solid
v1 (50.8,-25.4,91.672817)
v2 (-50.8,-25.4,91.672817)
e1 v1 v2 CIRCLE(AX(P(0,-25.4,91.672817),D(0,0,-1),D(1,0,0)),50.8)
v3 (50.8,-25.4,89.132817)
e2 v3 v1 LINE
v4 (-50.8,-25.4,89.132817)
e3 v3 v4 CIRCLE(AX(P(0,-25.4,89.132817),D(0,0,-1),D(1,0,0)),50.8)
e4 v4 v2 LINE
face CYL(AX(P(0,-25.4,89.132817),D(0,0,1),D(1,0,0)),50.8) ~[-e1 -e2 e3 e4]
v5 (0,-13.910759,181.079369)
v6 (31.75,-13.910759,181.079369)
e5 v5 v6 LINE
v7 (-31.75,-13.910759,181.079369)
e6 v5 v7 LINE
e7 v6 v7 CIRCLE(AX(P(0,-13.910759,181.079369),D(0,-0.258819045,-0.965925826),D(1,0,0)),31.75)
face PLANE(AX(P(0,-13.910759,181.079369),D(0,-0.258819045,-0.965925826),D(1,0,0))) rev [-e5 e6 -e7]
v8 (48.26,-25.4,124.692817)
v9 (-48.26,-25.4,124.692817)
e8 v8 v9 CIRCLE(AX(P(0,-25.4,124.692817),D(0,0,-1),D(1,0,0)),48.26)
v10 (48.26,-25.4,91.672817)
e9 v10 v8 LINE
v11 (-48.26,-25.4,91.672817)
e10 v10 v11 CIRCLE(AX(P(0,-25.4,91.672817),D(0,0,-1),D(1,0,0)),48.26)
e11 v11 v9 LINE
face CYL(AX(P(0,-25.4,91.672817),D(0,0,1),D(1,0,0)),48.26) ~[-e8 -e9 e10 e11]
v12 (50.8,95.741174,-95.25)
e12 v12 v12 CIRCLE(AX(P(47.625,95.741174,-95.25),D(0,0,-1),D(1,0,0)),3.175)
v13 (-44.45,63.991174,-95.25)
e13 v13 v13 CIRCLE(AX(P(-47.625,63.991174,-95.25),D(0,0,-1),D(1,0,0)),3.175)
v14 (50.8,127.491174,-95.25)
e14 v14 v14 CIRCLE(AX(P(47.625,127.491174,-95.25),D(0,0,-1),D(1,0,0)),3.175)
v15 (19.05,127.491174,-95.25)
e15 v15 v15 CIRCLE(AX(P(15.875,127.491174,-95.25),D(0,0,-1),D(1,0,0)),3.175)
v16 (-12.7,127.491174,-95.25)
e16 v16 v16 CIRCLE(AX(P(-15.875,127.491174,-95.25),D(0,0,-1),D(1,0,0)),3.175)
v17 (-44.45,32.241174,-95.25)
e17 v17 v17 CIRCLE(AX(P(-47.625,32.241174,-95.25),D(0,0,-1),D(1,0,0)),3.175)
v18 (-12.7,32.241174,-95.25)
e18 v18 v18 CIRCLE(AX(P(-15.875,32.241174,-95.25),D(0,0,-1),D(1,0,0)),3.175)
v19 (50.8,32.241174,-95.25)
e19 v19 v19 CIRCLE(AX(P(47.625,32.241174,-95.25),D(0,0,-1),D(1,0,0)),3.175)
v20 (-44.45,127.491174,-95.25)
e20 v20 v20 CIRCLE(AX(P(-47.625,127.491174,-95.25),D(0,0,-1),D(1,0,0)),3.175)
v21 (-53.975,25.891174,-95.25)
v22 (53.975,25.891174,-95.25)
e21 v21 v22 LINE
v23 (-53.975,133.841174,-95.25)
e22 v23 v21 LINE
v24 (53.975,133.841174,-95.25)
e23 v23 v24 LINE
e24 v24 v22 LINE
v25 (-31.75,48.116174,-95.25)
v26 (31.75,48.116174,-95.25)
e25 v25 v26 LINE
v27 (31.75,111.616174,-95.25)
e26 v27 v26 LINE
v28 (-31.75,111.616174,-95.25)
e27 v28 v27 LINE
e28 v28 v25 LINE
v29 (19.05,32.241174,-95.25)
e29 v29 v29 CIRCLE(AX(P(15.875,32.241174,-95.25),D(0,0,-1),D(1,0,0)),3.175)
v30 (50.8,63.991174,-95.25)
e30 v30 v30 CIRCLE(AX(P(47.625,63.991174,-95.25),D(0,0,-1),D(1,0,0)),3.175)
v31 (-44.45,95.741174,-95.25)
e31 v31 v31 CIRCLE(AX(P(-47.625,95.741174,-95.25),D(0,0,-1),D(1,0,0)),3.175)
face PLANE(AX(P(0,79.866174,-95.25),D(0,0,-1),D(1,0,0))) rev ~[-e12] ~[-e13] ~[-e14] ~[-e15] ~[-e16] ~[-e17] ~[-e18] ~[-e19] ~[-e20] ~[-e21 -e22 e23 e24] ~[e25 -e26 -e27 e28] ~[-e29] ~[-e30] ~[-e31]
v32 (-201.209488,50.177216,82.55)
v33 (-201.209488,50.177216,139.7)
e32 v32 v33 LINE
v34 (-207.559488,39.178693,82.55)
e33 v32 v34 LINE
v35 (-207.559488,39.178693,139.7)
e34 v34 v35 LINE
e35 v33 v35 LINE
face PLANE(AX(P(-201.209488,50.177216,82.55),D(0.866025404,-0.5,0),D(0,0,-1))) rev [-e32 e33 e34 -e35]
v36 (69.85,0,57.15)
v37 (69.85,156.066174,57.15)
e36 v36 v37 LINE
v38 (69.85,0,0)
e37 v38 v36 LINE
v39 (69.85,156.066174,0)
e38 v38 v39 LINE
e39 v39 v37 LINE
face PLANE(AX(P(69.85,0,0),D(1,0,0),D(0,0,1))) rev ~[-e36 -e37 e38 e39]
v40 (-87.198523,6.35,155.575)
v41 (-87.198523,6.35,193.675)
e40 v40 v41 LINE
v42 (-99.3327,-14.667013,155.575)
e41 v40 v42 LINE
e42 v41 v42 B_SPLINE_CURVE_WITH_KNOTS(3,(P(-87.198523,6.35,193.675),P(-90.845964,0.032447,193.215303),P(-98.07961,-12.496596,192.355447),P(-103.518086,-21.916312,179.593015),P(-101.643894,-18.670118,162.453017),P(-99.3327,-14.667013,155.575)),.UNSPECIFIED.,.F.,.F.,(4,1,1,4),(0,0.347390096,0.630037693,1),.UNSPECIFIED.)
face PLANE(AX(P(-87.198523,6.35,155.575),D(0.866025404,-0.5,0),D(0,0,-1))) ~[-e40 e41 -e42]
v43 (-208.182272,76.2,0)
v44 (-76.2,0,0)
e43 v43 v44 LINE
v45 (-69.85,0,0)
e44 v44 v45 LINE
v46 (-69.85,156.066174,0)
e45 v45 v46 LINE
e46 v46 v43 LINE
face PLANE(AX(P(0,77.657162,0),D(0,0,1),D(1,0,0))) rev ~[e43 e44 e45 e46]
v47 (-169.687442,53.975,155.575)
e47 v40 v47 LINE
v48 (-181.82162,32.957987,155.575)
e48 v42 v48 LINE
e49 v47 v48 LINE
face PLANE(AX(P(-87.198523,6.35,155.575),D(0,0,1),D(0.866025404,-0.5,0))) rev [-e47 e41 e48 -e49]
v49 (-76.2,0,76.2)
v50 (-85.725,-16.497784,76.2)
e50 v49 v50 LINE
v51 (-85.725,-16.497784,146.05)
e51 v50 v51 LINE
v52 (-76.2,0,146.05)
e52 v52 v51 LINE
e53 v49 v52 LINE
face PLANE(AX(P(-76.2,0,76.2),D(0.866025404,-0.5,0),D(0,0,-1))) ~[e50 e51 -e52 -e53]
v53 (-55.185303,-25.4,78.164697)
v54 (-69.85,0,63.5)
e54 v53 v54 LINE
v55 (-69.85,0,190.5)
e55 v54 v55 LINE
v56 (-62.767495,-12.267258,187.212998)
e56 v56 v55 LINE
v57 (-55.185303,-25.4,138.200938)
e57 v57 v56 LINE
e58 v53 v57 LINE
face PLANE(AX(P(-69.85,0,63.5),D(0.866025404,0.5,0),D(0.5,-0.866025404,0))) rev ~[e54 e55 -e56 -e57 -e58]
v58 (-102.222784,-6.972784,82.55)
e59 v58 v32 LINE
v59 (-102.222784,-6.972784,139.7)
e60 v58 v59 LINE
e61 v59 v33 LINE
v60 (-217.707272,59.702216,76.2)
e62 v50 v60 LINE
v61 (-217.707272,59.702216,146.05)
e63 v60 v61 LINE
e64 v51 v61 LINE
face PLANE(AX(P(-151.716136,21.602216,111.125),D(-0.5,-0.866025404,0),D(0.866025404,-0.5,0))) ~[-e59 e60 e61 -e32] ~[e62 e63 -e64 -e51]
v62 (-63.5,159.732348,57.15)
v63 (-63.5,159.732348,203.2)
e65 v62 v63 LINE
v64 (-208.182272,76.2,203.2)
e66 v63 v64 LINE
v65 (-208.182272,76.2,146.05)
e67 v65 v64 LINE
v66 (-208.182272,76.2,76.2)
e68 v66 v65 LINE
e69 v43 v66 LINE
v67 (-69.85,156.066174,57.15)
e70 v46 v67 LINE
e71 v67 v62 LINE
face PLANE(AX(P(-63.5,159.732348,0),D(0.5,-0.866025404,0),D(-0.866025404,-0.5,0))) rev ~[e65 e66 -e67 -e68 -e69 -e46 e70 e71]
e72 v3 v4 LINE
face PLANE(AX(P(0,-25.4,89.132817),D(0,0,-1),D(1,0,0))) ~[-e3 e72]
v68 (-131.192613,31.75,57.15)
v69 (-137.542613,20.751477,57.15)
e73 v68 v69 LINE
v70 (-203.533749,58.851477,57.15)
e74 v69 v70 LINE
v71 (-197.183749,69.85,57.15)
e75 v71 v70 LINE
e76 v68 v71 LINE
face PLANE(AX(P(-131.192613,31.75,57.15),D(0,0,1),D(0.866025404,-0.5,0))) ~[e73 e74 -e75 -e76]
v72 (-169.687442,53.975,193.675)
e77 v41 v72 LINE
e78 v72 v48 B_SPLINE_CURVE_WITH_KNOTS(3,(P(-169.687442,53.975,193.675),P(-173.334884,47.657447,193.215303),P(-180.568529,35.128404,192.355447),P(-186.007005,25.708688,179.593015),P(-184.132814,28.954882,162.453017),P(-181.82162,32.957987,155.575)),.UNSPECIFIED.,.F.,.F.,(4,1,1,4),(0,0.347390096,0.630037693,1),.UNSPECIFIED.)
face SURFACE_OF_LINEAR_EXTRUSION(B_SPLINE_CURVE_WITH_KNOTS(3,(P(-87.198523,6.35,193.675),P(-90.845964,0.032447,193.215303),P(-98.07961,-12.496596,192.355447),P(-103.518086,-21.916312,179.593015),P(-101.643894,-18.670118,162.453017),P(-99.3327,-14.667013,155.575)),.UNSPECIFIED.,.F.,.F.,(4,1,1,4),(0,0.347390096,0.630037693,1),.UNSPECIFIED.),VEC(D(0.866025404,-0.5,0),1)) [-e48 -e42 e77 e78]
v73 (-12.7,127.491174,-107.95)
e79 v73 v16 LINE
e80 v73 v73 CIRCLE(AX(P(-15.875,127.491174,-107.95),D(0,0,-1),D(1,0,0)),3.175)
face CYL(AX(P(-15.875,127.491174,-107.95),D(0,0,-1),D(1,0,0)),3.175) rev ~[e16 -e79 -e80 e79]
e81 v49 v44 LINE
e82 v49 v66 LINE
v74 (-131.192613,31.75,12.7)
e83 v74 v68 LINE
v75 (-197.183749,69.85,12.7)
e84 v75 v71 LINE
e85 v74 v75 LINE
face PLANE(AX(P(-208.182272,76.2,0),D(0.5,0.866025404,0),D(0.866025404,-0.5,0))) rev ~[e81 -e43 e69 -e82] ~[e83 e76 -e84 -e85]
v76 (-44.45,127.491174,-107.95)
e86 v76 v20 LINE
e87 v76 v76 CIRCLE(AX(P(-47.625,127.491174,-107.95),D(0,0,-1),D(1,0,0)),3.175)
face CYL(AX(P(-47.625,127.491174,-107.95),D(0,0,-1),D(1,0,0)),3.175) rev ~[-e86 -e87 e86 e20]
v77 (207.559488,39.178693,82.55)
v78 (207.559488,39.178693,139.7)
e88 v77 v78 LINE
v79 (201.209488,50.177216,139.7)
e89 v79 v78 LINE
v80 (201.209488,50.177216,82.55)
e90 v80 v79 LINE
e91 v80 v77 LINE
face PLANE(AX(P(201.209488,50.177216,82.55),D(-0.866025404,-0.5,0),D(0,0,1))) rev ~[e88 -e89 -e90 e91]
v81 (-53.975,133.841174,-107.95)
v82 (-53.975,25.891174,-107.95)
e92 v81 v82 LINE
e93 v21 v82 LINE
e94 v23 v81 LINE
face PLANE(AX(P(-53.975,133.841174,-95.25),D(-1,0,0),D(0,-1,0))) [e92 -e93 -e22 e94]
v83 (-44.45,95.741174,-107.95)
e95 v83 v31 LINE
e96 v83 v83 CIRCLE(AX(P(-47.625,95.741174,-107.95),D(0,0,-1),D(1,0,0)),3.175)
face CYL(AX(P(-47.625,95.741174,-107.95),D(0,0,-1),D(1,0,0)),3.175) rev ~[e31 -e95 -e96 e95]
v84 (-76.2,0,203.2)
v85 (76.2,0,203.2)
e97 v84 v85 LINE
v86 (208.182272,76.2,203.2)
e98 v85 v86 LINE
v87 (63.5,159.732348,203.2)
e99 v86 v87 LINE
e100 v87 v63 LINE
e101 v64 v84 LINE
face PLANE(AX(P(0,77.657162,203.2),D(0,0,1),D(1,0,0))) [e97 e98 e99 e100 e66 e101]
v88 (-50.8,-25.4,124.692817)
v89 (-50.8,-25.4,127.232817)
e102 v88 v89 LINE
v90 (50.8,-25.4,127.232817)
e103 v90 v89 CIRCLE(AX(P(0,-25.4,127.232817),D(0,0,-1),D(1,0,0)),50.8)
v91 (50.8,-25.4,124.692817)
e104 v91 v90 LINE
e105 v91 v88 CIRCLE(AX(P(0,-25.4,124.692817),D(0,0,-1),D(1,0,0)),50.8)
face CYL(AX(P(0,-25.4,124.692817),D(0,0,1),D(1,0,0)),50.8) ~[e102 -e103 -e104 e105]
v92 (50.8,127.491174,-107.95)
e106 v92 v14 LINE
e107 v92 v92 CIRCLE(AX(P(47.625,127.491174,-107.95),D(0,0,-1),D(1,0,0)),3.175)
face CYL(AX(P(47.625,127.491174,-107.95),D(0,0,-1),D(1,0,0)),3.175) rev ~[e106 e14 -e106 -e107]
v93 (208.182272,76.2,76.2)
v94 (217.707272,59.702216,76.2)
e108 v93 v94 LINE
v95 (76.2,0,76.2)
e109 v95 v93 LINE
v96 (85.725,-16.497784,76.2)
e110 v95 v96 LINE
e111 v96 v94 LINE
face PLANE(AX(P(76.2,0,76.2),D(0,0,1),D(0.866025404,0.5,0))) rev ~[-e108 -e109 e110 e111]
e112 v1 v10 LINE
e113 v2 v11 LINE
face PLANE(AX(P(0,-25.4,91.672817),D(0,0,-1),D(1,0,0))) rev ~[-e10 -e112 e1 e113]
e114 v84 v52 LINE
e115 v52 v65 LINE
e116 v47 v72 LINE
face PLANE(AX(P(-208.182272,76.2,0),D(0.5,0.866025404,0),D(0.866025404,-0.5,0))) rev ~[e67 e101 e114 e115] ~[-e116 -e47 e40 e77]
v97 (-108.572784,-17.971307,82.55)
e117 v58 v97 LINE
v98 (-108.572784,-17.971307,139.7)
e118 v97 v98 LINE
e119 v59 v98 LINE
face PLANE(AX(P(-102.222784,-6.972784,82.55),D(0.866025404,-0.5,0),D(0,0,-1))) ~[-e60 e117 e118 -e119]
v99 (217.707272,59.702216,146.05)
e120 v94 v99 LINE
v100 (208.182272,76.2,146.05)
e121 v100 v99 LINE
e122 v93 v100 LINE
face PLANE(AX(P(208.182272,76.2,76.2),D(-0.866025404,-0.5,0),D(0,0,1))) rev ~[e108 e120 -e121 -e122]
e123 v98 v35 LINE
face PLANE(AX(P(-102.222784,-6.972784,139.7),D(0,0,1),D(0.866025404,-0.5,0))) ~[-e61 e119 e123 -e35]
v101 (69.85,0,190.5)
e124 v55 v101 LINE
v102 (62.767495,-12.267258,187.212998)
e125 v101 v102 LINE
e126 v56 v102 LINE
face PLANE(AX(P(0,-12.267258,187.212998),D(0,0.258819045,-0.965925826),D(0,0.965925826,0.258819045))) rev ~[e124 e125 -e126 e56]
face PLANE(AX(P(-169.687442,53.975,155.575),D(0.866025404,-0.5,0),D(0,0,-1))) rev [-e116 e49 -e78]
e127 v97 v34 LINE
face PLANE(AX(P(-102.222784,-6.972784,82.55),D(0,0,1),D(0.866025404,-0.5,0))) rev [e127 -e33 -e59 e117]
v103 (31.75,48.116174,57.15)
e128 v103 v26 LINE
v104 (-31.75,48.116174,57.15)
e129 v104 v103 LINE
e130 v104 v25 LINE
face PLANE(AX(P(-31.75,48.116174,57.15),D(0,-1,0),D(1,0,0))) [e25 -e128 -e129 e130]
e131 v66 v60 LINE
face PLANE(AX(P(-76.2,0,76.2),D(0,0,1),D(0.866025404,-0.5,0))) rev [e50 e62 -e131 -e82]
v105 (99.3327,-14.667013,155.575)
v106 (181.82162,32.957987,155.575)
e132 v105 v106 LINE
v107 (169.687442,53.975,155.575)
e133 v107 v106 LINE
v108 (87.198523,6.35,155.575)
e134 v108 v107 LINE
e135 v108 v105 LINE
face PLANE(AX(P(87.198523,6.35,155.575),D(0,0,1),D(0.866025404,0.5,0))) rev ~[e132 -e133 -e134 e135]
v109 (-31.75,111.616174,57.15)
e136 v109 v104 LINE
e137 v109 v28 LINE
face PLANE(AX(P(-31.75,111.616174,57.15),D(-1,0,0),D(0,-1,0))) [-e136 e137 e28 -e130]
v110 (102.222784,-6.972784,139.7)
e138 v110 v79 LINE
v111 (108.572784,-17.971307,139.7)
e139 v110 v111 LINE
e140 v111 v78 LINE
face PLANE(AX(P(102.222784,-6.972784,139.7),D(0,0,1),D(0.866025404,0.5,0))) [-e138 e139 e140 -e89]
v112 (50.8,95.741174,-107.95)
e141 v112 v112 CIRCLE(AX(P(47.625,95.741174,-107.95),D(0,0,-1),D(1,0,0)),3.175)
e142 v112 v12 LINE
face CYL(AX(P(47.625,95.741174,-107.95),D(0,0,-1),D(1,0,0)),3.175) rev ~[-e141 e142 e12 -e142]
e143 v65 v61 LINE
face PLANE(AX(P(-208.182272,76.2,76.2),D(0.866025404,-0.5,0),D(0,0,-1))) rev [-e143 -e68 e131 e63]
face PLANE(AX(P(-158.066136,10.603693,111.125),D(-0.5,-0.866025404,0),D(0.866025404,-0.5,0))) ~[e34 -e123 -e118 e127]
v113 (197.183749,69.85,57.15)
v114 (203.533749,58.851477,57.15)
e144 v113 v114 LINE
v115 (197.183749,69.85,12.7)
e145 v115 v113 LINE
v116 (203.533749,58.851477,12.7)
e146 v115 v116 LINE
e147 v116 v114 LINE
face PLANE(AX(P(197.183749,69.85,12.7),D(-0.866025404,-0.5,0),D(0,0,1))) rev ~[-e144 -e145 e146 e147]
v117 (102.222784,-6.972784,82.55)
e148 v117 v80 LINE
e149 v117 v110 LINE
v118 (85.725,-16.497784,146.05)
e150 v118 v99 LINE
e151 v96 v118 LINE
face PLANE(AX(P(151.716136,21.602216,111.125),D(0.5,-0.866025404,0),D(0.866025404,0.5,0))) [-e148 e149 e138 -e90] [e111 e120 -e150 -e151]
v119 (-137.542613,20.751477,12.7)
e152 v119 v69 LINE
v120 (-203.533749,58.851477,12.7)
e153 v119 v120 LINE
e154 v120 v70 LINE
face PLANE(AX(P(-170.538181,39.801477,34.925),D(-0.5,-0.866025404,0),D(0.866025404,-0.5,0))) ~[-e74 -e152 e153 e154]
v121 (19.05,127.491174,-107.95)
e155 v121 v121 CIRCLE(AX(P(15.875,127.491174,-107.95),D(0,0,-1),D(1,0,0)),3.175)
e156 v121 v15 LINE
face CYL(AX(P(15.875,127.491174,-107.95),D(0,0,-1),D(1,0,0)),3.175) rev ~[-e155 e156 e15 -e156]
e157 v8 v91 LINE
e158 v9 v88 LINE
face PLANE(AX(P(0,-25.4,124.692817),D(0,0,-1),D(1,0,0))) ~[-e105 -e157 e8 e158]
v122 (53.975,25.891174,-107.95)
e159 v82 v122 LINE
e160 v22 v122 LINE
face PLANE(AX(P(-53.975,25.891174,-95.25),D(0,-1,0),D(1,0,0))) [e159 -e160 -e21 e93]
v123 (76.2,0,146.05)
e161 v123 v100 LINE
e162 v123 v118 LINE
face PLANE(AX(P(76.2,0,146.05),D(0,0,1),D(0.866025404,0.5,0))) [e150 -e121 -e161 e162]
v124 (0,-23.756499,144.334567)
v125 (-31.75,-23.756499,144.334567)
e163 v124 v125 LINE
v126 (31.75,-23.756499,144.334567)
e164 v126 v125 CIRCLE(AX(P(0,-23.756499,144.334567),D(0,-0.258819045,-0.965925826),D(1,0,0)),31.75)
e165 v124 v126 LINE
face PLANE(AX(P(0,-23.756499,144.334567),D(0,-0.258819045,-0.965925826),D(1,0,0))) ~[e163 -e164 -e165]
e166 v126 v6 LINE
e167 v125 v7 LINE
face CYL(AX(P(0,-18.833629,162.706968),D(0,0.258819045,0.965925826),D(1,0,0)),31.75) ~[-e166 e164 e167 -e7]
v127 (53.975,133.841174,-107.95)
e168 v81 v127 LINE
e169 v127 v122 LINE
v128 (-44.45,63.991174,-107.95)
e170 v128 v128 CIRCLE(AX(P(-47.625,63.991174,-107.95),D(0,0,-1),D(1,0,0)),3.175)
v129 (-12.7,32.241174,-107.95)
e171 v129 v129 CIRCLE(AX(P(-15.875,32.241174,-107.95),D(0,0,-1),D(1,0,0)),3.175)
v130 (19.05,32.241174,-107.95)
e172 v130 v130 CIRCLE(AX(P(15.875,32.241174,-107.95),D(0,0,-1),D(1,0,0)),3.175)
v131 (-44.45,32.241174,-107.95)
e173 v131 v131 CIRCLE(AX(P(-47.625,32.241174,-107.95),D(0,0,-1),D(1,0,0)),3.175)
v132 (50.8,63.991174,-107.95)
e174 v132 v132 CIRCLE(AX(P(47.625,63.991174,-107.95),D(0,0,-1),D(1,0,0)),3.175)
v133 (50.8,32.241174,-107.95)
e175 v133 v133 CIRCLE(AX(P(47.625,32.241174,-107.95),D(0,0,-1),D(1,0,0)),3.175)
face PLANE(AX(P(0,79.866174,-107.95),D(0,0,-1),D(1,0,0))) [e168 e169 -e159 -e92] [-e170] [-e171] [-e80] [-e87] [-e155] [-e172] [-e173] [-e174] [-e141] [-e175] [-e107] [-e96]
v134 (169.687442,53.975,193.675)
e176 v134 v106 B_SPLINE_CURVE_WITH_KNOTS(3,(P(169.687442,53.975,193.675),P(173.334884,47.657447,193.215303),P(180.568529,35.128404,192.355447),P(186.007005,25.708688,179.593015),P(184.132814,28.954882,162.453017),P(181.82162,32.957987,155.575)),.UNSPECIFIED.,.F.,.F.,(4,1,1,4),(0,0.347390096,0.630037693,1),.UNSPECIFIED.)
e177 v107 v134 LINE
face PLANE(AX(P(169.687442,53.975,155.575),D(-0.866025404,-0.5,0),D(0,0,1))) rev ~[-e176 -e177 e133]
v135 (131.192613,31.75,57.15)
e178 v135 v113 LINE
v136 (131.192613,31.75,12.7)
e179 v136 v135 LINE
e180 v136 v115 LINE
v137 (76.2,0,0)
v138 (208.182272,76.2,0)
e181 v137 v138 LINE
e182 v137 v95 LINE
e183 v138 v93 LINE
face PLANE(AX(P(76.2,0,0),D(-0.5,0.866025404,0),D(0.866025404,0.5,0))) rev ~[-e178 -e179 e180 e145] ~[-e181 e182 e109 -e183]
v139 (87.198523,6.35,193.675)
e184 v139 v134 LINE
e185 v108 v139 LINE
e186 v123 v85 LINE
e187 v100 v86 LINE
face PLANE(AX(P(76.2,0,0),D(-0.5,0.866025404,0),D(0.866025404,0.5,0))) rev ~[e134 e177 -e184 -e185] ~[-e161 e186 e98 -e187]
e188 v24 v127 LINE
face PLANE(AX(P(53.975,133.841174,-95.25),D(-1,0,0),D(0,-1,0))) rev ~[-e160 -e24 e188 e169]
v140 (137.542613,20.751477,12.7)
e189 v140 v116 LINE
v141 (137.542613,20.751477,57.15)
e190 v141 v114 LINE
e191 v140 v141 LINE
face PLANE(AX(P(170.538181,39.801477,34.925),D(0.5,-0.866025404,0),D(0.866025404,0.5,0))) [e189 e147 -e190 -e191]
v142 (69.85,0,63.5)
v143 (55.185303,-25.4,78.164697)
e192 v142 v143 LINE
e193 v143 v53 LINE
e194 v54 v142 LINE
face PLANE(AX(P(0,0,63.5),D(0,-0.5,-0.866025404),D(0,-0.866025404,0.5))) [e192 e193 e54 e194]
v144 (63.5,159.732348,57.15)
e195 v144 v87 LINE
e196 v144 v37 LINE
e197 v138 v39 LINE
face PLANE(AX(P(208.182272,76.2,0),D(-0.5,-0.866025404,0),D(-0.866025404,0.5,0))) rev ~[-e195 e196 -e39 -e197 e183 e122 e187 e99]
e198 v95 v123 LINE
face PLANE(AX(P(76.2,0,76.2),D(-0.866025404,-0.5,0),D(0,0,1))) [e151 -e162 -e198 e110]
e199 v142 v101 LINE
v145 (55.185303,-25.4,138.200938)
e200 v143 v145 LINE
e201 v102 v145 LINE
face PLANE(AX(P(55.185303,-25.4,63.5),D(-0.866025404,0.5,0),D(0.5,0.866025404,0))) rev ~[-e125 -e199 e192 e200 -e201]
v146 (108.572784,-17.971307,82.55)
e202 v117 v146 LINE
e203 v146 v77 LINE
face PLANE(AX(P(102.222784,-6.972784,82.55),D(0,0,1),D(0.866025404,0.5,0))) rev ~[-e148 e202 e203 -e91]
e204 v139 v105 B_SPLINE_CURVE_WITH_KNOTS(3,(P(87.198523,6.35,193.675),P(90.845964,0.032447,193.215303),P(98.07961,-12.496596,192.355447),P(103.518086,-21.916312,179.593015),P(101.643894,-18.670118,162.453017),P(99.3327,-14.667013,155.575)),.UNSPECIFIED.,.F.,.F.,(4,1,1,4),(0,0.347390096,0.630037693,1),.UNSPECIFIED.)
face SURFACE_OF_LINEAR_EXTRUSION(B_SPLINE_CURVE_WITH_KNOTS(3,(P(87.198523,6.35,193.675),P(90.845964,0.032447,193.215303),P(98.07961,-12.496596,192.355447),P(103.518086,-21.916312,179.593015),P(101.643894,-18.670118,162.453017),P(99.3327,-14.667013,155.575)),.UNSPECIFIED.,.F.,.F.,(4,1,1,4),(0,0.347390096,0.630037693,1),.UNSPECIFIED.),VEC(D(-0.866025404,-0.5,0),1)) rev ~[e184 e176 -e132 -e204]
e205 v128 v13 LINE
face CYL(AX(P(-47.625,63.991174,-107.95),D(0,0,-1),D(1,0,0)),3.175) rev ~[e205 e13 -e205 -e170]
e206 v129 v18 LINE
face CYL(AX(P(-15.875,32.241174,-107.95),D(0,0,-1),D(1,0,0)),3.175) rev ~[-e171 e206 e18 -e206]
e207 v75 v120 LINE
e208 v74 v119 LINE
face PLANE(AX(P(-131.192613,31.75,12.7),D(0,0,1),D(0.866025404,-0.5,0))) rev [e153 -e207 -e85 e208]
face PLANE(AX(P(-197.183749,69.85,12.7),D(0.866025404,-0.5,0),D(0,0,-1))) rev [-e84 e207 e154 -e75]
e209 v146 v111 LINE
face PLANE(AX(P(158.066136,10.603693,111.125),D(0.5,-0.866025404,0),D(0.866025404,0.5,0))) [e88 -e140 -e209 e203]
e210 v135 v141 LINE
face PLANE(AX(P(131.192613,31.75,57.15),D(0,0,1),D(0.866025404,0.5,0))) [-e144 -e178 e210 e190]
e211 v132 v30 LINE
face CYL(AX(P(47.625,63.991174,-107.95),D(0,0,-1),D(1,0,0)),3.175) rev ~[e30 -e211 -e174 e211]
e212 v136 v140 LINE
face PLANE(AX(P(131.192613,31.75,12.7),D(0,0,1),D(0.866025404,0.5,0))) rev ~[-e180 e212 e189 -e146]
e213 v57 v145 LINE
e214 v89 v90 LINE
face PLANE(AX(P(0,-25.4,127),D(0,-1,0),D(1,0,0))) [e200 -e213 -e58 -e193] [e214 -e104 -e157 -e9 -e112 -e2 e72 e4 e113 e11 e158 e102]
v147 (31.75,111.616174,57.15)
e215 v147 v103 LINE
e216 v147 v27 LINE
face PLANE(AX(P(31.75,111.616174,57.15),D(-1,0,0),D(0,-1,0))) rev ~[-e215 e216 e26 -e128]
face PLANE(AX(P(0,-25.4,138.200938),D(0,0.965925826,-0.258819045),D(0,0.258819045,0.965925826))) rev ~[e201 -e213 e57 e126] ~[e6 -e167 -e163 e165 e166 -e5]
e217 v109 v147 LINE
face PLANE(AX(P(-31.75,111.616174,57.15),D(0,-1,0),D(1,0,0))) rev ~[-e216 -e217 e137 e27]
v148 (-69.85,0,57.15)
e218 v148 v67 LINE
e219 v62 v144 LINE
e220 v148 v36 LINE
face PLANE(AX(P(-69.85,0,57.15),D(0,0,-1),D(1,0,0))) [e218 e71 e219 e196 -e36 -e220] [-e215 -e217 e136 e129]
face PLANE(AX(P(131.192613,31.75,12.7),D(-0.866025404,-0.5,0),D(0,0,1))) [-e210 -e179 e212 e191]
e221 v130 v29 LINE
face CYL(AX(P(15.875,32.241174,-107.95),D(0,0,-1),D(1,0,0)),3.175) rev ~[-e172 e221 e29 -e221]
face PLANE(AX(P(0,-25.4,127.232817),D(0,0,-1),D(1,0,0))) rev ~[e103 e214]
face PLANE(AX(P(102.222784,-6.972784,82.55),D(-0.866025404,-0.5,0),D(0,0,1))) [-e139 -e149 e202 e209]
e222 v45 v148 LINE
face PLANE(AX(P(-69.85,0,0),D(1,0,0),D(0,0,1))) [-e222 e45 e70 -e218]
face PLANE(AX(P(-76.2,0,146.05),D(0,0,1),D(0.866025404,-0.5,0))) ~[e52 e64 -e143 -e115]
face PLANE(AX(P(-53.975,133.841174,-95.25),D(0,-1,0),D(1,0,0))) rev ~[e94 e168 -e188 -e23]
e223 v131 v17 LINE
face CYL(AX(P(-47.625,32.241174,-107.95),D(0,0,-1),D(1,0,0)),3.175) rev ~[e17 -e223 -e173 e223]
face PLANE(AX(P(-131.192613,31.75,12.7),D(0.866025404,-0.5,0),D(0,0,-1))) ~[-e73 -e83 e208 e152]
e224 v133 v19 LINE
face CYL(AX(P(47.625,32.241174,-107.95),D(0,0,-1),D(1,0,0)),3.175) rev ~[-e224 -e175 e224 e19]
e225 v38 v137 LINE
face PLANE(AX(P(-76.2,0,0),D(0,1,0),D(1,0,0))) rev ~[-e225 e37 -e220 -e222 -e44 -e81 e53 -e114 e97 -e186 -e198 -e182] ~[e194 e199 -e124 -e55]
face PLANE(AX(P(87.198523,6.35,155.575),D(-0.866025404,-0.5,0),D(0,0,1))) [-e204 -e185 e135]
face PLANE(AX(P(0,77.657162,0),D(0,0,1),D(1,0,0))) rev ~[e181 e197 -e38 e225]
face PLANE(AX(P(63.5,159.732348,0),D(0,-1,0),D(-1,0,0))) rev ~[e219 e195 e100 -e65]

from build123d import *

# Parameters (mm, degrees)
F1_DEPTH  = 203.2
F2_W      = 76.2
F2_H      = 44.45
F3_DEPTH  = 12.7
F4_W      = 152.4
F4_H      = 69.85
F5_DEPTH  = 19.05
F6_W      = 114.3
F6_H      = 57.15
F7_DEPTH  = 12.7
F8_W      = 95.25
F8_H      = 38.1
F9_DEPTH  = 31.75
F11_DEPTH = 95.25
F12_W     = 139.7
F12_H     = 127
F13_DEPTH = 25.4
F15_DEPTH = 127
F17_DEPTH = 76.2
F19_ANGLE = 180
F20_W     = 31.75
F20_H     = 38.0410186947
F21_ANGLE = 180
F22_W     = 139.7
F22_H     = 57.15
F23_DEPTH = 159.7323484187
F25_W     = 63.5
F25_H     = 63.5
F26_DEPTH = 152.4
F27_W     = 107.95
F27_H     = 107.95
F28_DEPTH = 12.7
F29_R     = 3.175
F30_DEPTH = 12.7


with BuildPart() as f1:
    # F0 (on Top) → F1 (new body)
    with BuildSketch(Plane.XY):
        Polygon((-76.2, 0), (0, 0), (76.2, 0), (208.1822715367, 76.2), (63.5, 159.7323484187), (0, 159.7323484187), (-63.5, 159.7323484187), (-208.1822715367, 76.2), align=None)
    extrude(amount=F1_DEPTH)

    # F2 (on face) → F3 (join)
    with BuildSketch(Plane(origin=(19.05, -32.9955678842, 0), x_dir=(0.8660254038, 0.5, 0), z_dir=(0.5, -0.8660254038, 0))):
        with Locations((167.5911357684, 34.925)):
            Rectangle(F2_W, F2_H)
    extrude(amount=F3_DEPTH)

    # F4 (on face) → F5 (join)
    with BuildSketch(Plane(origin=(19.05, -32.9955678842, 0), x_dir=(0.8660254038, 0.5, 0), z_dir=(0.5, -0.8660254038, 0))):
        with Locations((142.1911357684, 111.125)):
            Rectangle(F4_W, F4_H)
    extrude(amount=F5_DEPTH)

    # F6 (on face) → F7 (join)
    with BuildSketch(Plane(origin=(28.575, -49.4933518263, 0), x_dir=(0.8660254038, 0.5, 0), z_dir=(0.5, -0.8660254038, 0))):
        with Locations((142.1911357684, 111.125)):
            Rectangle(F6_W, F6_H)
    extrude(amount=F7_DEPTH)

    # F8 (on face) → F9 (join)
    with BuildSketch(Plane(origin=(19.05, -32.9955678842, 0), x_dir=(0.8660254038, 0.5, 0), z_dir=(0.5, -0.8660254038, 0))):
        with Locations((126.3161357684, 174.625)):
            Rectangle(F8_W, F8_H)
    extrude(amount=F9_DEPTH)

    # F10 (on face) → F11 (cut, through all)
    with BuildSketch(Plane(origin=(68.1485226281, 39.3455678842, 0), x_dir=(0.5, -0.8660254038, 0), z_dir=(-0.8660254038, -0.5, 0))):
        with BuildLine():
            Line((69.85, 193.675), (38.1, 193.675))
            add(Edge.make_bspline(
                [(38.1, 193.675), (45.3948823455, 193.2153032956), (59.8621743056, 192.3554471638), (70.7391260405, 179.5930154775), (66.9907434886, 162.4530172158), (62.3683556914, 155.575)],
                knots=[0, 0, 0, 0, 0.3473900959, 0.6300376929, 1, 1, 1, 1], degree=3))
            Line((62.3683556914, 155.575), (69.85, 155.575))
            Line((69.85, 155.575), (69.85, 193.675))
        make_face()
    extrude(amount=-F11_DEPTH, mode=Mode.SUBTRACT)

    # F12 (on face) → F13 (join)
    with BuildSketch(Plane.XZ):
        with Locations((0, 127)):
            Rectangle(F12_W, F12_H)
    extrude(amount=F13_DEPTH)

    # F14 (on face) → F15 (cut, through all)
    with BuildSketch(Plane(origin=(0, 0, 63.5), x_dir=(1, 0, 0), z_dir=(0, 0, -1))):
        Polygon((69.85, 0), (69.85, 25.4), (55.1853031626, 25.4), align=None)
        Polygon((-69.85, 25.4), (-69.85, 0), (-55.1853031626, 25.4), align=None)
    extrude(amount=-F15_DEPTH, mode=Mode.SUBTRACT)

    # F16 (on Right) → F17 (cut, symmetric)
    with BuildSketch(Plane.YZ):
        Polygon((-25.4, 63.5), (0, 63.5), (-25.4, 78.1646968374), align=None)
        Polygon((-25.4, 190.5), (-25.4, 138.2009377176), (-12.2672579939, 187.2129981271), (0, 190.5), align=None)
    extrude(amount=F17_DEPTH, both=True, mode=Mode.SUBTRACT)

    # F18 (on face) → F19 (revolve)
    with BuildSketch(Plane.XZ.offset(25.4)):
        Polygon((50.8, 127.2328172775), (0, 127.2328172775), (0, 89.1328172775), (50.8, 89.1328172775), (50.8, 91.6728172775), (48.26, 91.6728172775), (48.26, 124.6928172775), (50.8, 124.6928172775), align=None)
    revolve(axis=Axis((0, -25.4, 108.1828172775), (0, 0, -1)), revolution_arc=F19_ANGLE)

    # F20 (on face) → F21 (revolve)
    with BuildSketch(Plane(origin=(0, -58.2487570575, 15.6077074137), x_dir=(1, 0, 0), z_dir=(0, -0.9659258263, 0.2588190451))):
        with Locations((15.875, 152.2883605606)):
            Rectangle(F20_W, F20_H)
    revolve(axis=Axis((0, -18.8336289969, 162.7069679224), (0, -0.2588190451, -0.9659258263)), revolution_arc=F21_ANGLE)

    # F22 (on face) → F23 (cut, through all)
    with BuildSketch(Plane.XZ):
        with Locations((0, 28.575)):
            Rectangle(F22_W, F22_H)
    extrude(amount=-F23_DEPTH, mode=Mode.SUBTRACT)

    # F24: F1 across plane


with BuildPart() as f1_1:
    add(f1.part)
    add(f1.part.mirror(Plane.YZ))

    # F25 (on face) → F26 (join)
    with BuildSketch(Plane(origin=(0, 0, 57.15), x_dir=(1, 0, 0), z_dir=(0, 0, -1))):
        with Locations((0, -79.8661742093)):
            Rectangle(F25_W, F25_H)
    extrude(amount=F26_DEPTH)

    # F27 (on face) → F28 (join)
    with BuildSketch(Plane(origin=(0, 0, -95.25), x_dir=(1, 0, 0), z_dir=(0, 0, -1))):
        with Locations((0, -79.8661742093)):
            Rectangle(F27_W, F27_H)
    extrude(amount=F28_DEPTH)

    # F29 (on face) → F30 (cut, through all)
    with BuildSketch(Plane(origin=(0, 0, -107.95), x_dir=(1, 0, 0), z_dir=(0, 0, -1))):
        with Locations((-47.625, -32.2411742093)):
            Circle(F29_R)
        with Locations((-47.625, -63.9911742093)):
            Circle(F29_R)
        with Locations((-15.875, -32.2411742093)):
            Circle(F29_R)
        with Locations((-47.625, -95.7411742093)):
            Circle(F29_R)
        with Locations((-47.625, -127.4911742093)):
            Circle(F29_R)
        with Locations((-15.875, -127.4911742093)):
            Circle(F29_R)
        with Locations((15.875, -32.2411742093)):
            Circle(F29_R)
        with Locations((47.625, -32.2411742093)):
            Circle(F29_R)
        with Locations((47.625, -63.9911742093)):
            Circle(F29_R)
        with Locations((47.625, -95.7411742093)):
            Circle(F29_R)
        with Locations((47.625, -127.4911742093)):
            Circle(F29_R)
        with Locations((15.875, -127.4911742093)):
            Circle(F29_R)
    extrude(amount=-F30_DEPTH, mode=Mode.SUBTRACT)


solid = f1_1.part
